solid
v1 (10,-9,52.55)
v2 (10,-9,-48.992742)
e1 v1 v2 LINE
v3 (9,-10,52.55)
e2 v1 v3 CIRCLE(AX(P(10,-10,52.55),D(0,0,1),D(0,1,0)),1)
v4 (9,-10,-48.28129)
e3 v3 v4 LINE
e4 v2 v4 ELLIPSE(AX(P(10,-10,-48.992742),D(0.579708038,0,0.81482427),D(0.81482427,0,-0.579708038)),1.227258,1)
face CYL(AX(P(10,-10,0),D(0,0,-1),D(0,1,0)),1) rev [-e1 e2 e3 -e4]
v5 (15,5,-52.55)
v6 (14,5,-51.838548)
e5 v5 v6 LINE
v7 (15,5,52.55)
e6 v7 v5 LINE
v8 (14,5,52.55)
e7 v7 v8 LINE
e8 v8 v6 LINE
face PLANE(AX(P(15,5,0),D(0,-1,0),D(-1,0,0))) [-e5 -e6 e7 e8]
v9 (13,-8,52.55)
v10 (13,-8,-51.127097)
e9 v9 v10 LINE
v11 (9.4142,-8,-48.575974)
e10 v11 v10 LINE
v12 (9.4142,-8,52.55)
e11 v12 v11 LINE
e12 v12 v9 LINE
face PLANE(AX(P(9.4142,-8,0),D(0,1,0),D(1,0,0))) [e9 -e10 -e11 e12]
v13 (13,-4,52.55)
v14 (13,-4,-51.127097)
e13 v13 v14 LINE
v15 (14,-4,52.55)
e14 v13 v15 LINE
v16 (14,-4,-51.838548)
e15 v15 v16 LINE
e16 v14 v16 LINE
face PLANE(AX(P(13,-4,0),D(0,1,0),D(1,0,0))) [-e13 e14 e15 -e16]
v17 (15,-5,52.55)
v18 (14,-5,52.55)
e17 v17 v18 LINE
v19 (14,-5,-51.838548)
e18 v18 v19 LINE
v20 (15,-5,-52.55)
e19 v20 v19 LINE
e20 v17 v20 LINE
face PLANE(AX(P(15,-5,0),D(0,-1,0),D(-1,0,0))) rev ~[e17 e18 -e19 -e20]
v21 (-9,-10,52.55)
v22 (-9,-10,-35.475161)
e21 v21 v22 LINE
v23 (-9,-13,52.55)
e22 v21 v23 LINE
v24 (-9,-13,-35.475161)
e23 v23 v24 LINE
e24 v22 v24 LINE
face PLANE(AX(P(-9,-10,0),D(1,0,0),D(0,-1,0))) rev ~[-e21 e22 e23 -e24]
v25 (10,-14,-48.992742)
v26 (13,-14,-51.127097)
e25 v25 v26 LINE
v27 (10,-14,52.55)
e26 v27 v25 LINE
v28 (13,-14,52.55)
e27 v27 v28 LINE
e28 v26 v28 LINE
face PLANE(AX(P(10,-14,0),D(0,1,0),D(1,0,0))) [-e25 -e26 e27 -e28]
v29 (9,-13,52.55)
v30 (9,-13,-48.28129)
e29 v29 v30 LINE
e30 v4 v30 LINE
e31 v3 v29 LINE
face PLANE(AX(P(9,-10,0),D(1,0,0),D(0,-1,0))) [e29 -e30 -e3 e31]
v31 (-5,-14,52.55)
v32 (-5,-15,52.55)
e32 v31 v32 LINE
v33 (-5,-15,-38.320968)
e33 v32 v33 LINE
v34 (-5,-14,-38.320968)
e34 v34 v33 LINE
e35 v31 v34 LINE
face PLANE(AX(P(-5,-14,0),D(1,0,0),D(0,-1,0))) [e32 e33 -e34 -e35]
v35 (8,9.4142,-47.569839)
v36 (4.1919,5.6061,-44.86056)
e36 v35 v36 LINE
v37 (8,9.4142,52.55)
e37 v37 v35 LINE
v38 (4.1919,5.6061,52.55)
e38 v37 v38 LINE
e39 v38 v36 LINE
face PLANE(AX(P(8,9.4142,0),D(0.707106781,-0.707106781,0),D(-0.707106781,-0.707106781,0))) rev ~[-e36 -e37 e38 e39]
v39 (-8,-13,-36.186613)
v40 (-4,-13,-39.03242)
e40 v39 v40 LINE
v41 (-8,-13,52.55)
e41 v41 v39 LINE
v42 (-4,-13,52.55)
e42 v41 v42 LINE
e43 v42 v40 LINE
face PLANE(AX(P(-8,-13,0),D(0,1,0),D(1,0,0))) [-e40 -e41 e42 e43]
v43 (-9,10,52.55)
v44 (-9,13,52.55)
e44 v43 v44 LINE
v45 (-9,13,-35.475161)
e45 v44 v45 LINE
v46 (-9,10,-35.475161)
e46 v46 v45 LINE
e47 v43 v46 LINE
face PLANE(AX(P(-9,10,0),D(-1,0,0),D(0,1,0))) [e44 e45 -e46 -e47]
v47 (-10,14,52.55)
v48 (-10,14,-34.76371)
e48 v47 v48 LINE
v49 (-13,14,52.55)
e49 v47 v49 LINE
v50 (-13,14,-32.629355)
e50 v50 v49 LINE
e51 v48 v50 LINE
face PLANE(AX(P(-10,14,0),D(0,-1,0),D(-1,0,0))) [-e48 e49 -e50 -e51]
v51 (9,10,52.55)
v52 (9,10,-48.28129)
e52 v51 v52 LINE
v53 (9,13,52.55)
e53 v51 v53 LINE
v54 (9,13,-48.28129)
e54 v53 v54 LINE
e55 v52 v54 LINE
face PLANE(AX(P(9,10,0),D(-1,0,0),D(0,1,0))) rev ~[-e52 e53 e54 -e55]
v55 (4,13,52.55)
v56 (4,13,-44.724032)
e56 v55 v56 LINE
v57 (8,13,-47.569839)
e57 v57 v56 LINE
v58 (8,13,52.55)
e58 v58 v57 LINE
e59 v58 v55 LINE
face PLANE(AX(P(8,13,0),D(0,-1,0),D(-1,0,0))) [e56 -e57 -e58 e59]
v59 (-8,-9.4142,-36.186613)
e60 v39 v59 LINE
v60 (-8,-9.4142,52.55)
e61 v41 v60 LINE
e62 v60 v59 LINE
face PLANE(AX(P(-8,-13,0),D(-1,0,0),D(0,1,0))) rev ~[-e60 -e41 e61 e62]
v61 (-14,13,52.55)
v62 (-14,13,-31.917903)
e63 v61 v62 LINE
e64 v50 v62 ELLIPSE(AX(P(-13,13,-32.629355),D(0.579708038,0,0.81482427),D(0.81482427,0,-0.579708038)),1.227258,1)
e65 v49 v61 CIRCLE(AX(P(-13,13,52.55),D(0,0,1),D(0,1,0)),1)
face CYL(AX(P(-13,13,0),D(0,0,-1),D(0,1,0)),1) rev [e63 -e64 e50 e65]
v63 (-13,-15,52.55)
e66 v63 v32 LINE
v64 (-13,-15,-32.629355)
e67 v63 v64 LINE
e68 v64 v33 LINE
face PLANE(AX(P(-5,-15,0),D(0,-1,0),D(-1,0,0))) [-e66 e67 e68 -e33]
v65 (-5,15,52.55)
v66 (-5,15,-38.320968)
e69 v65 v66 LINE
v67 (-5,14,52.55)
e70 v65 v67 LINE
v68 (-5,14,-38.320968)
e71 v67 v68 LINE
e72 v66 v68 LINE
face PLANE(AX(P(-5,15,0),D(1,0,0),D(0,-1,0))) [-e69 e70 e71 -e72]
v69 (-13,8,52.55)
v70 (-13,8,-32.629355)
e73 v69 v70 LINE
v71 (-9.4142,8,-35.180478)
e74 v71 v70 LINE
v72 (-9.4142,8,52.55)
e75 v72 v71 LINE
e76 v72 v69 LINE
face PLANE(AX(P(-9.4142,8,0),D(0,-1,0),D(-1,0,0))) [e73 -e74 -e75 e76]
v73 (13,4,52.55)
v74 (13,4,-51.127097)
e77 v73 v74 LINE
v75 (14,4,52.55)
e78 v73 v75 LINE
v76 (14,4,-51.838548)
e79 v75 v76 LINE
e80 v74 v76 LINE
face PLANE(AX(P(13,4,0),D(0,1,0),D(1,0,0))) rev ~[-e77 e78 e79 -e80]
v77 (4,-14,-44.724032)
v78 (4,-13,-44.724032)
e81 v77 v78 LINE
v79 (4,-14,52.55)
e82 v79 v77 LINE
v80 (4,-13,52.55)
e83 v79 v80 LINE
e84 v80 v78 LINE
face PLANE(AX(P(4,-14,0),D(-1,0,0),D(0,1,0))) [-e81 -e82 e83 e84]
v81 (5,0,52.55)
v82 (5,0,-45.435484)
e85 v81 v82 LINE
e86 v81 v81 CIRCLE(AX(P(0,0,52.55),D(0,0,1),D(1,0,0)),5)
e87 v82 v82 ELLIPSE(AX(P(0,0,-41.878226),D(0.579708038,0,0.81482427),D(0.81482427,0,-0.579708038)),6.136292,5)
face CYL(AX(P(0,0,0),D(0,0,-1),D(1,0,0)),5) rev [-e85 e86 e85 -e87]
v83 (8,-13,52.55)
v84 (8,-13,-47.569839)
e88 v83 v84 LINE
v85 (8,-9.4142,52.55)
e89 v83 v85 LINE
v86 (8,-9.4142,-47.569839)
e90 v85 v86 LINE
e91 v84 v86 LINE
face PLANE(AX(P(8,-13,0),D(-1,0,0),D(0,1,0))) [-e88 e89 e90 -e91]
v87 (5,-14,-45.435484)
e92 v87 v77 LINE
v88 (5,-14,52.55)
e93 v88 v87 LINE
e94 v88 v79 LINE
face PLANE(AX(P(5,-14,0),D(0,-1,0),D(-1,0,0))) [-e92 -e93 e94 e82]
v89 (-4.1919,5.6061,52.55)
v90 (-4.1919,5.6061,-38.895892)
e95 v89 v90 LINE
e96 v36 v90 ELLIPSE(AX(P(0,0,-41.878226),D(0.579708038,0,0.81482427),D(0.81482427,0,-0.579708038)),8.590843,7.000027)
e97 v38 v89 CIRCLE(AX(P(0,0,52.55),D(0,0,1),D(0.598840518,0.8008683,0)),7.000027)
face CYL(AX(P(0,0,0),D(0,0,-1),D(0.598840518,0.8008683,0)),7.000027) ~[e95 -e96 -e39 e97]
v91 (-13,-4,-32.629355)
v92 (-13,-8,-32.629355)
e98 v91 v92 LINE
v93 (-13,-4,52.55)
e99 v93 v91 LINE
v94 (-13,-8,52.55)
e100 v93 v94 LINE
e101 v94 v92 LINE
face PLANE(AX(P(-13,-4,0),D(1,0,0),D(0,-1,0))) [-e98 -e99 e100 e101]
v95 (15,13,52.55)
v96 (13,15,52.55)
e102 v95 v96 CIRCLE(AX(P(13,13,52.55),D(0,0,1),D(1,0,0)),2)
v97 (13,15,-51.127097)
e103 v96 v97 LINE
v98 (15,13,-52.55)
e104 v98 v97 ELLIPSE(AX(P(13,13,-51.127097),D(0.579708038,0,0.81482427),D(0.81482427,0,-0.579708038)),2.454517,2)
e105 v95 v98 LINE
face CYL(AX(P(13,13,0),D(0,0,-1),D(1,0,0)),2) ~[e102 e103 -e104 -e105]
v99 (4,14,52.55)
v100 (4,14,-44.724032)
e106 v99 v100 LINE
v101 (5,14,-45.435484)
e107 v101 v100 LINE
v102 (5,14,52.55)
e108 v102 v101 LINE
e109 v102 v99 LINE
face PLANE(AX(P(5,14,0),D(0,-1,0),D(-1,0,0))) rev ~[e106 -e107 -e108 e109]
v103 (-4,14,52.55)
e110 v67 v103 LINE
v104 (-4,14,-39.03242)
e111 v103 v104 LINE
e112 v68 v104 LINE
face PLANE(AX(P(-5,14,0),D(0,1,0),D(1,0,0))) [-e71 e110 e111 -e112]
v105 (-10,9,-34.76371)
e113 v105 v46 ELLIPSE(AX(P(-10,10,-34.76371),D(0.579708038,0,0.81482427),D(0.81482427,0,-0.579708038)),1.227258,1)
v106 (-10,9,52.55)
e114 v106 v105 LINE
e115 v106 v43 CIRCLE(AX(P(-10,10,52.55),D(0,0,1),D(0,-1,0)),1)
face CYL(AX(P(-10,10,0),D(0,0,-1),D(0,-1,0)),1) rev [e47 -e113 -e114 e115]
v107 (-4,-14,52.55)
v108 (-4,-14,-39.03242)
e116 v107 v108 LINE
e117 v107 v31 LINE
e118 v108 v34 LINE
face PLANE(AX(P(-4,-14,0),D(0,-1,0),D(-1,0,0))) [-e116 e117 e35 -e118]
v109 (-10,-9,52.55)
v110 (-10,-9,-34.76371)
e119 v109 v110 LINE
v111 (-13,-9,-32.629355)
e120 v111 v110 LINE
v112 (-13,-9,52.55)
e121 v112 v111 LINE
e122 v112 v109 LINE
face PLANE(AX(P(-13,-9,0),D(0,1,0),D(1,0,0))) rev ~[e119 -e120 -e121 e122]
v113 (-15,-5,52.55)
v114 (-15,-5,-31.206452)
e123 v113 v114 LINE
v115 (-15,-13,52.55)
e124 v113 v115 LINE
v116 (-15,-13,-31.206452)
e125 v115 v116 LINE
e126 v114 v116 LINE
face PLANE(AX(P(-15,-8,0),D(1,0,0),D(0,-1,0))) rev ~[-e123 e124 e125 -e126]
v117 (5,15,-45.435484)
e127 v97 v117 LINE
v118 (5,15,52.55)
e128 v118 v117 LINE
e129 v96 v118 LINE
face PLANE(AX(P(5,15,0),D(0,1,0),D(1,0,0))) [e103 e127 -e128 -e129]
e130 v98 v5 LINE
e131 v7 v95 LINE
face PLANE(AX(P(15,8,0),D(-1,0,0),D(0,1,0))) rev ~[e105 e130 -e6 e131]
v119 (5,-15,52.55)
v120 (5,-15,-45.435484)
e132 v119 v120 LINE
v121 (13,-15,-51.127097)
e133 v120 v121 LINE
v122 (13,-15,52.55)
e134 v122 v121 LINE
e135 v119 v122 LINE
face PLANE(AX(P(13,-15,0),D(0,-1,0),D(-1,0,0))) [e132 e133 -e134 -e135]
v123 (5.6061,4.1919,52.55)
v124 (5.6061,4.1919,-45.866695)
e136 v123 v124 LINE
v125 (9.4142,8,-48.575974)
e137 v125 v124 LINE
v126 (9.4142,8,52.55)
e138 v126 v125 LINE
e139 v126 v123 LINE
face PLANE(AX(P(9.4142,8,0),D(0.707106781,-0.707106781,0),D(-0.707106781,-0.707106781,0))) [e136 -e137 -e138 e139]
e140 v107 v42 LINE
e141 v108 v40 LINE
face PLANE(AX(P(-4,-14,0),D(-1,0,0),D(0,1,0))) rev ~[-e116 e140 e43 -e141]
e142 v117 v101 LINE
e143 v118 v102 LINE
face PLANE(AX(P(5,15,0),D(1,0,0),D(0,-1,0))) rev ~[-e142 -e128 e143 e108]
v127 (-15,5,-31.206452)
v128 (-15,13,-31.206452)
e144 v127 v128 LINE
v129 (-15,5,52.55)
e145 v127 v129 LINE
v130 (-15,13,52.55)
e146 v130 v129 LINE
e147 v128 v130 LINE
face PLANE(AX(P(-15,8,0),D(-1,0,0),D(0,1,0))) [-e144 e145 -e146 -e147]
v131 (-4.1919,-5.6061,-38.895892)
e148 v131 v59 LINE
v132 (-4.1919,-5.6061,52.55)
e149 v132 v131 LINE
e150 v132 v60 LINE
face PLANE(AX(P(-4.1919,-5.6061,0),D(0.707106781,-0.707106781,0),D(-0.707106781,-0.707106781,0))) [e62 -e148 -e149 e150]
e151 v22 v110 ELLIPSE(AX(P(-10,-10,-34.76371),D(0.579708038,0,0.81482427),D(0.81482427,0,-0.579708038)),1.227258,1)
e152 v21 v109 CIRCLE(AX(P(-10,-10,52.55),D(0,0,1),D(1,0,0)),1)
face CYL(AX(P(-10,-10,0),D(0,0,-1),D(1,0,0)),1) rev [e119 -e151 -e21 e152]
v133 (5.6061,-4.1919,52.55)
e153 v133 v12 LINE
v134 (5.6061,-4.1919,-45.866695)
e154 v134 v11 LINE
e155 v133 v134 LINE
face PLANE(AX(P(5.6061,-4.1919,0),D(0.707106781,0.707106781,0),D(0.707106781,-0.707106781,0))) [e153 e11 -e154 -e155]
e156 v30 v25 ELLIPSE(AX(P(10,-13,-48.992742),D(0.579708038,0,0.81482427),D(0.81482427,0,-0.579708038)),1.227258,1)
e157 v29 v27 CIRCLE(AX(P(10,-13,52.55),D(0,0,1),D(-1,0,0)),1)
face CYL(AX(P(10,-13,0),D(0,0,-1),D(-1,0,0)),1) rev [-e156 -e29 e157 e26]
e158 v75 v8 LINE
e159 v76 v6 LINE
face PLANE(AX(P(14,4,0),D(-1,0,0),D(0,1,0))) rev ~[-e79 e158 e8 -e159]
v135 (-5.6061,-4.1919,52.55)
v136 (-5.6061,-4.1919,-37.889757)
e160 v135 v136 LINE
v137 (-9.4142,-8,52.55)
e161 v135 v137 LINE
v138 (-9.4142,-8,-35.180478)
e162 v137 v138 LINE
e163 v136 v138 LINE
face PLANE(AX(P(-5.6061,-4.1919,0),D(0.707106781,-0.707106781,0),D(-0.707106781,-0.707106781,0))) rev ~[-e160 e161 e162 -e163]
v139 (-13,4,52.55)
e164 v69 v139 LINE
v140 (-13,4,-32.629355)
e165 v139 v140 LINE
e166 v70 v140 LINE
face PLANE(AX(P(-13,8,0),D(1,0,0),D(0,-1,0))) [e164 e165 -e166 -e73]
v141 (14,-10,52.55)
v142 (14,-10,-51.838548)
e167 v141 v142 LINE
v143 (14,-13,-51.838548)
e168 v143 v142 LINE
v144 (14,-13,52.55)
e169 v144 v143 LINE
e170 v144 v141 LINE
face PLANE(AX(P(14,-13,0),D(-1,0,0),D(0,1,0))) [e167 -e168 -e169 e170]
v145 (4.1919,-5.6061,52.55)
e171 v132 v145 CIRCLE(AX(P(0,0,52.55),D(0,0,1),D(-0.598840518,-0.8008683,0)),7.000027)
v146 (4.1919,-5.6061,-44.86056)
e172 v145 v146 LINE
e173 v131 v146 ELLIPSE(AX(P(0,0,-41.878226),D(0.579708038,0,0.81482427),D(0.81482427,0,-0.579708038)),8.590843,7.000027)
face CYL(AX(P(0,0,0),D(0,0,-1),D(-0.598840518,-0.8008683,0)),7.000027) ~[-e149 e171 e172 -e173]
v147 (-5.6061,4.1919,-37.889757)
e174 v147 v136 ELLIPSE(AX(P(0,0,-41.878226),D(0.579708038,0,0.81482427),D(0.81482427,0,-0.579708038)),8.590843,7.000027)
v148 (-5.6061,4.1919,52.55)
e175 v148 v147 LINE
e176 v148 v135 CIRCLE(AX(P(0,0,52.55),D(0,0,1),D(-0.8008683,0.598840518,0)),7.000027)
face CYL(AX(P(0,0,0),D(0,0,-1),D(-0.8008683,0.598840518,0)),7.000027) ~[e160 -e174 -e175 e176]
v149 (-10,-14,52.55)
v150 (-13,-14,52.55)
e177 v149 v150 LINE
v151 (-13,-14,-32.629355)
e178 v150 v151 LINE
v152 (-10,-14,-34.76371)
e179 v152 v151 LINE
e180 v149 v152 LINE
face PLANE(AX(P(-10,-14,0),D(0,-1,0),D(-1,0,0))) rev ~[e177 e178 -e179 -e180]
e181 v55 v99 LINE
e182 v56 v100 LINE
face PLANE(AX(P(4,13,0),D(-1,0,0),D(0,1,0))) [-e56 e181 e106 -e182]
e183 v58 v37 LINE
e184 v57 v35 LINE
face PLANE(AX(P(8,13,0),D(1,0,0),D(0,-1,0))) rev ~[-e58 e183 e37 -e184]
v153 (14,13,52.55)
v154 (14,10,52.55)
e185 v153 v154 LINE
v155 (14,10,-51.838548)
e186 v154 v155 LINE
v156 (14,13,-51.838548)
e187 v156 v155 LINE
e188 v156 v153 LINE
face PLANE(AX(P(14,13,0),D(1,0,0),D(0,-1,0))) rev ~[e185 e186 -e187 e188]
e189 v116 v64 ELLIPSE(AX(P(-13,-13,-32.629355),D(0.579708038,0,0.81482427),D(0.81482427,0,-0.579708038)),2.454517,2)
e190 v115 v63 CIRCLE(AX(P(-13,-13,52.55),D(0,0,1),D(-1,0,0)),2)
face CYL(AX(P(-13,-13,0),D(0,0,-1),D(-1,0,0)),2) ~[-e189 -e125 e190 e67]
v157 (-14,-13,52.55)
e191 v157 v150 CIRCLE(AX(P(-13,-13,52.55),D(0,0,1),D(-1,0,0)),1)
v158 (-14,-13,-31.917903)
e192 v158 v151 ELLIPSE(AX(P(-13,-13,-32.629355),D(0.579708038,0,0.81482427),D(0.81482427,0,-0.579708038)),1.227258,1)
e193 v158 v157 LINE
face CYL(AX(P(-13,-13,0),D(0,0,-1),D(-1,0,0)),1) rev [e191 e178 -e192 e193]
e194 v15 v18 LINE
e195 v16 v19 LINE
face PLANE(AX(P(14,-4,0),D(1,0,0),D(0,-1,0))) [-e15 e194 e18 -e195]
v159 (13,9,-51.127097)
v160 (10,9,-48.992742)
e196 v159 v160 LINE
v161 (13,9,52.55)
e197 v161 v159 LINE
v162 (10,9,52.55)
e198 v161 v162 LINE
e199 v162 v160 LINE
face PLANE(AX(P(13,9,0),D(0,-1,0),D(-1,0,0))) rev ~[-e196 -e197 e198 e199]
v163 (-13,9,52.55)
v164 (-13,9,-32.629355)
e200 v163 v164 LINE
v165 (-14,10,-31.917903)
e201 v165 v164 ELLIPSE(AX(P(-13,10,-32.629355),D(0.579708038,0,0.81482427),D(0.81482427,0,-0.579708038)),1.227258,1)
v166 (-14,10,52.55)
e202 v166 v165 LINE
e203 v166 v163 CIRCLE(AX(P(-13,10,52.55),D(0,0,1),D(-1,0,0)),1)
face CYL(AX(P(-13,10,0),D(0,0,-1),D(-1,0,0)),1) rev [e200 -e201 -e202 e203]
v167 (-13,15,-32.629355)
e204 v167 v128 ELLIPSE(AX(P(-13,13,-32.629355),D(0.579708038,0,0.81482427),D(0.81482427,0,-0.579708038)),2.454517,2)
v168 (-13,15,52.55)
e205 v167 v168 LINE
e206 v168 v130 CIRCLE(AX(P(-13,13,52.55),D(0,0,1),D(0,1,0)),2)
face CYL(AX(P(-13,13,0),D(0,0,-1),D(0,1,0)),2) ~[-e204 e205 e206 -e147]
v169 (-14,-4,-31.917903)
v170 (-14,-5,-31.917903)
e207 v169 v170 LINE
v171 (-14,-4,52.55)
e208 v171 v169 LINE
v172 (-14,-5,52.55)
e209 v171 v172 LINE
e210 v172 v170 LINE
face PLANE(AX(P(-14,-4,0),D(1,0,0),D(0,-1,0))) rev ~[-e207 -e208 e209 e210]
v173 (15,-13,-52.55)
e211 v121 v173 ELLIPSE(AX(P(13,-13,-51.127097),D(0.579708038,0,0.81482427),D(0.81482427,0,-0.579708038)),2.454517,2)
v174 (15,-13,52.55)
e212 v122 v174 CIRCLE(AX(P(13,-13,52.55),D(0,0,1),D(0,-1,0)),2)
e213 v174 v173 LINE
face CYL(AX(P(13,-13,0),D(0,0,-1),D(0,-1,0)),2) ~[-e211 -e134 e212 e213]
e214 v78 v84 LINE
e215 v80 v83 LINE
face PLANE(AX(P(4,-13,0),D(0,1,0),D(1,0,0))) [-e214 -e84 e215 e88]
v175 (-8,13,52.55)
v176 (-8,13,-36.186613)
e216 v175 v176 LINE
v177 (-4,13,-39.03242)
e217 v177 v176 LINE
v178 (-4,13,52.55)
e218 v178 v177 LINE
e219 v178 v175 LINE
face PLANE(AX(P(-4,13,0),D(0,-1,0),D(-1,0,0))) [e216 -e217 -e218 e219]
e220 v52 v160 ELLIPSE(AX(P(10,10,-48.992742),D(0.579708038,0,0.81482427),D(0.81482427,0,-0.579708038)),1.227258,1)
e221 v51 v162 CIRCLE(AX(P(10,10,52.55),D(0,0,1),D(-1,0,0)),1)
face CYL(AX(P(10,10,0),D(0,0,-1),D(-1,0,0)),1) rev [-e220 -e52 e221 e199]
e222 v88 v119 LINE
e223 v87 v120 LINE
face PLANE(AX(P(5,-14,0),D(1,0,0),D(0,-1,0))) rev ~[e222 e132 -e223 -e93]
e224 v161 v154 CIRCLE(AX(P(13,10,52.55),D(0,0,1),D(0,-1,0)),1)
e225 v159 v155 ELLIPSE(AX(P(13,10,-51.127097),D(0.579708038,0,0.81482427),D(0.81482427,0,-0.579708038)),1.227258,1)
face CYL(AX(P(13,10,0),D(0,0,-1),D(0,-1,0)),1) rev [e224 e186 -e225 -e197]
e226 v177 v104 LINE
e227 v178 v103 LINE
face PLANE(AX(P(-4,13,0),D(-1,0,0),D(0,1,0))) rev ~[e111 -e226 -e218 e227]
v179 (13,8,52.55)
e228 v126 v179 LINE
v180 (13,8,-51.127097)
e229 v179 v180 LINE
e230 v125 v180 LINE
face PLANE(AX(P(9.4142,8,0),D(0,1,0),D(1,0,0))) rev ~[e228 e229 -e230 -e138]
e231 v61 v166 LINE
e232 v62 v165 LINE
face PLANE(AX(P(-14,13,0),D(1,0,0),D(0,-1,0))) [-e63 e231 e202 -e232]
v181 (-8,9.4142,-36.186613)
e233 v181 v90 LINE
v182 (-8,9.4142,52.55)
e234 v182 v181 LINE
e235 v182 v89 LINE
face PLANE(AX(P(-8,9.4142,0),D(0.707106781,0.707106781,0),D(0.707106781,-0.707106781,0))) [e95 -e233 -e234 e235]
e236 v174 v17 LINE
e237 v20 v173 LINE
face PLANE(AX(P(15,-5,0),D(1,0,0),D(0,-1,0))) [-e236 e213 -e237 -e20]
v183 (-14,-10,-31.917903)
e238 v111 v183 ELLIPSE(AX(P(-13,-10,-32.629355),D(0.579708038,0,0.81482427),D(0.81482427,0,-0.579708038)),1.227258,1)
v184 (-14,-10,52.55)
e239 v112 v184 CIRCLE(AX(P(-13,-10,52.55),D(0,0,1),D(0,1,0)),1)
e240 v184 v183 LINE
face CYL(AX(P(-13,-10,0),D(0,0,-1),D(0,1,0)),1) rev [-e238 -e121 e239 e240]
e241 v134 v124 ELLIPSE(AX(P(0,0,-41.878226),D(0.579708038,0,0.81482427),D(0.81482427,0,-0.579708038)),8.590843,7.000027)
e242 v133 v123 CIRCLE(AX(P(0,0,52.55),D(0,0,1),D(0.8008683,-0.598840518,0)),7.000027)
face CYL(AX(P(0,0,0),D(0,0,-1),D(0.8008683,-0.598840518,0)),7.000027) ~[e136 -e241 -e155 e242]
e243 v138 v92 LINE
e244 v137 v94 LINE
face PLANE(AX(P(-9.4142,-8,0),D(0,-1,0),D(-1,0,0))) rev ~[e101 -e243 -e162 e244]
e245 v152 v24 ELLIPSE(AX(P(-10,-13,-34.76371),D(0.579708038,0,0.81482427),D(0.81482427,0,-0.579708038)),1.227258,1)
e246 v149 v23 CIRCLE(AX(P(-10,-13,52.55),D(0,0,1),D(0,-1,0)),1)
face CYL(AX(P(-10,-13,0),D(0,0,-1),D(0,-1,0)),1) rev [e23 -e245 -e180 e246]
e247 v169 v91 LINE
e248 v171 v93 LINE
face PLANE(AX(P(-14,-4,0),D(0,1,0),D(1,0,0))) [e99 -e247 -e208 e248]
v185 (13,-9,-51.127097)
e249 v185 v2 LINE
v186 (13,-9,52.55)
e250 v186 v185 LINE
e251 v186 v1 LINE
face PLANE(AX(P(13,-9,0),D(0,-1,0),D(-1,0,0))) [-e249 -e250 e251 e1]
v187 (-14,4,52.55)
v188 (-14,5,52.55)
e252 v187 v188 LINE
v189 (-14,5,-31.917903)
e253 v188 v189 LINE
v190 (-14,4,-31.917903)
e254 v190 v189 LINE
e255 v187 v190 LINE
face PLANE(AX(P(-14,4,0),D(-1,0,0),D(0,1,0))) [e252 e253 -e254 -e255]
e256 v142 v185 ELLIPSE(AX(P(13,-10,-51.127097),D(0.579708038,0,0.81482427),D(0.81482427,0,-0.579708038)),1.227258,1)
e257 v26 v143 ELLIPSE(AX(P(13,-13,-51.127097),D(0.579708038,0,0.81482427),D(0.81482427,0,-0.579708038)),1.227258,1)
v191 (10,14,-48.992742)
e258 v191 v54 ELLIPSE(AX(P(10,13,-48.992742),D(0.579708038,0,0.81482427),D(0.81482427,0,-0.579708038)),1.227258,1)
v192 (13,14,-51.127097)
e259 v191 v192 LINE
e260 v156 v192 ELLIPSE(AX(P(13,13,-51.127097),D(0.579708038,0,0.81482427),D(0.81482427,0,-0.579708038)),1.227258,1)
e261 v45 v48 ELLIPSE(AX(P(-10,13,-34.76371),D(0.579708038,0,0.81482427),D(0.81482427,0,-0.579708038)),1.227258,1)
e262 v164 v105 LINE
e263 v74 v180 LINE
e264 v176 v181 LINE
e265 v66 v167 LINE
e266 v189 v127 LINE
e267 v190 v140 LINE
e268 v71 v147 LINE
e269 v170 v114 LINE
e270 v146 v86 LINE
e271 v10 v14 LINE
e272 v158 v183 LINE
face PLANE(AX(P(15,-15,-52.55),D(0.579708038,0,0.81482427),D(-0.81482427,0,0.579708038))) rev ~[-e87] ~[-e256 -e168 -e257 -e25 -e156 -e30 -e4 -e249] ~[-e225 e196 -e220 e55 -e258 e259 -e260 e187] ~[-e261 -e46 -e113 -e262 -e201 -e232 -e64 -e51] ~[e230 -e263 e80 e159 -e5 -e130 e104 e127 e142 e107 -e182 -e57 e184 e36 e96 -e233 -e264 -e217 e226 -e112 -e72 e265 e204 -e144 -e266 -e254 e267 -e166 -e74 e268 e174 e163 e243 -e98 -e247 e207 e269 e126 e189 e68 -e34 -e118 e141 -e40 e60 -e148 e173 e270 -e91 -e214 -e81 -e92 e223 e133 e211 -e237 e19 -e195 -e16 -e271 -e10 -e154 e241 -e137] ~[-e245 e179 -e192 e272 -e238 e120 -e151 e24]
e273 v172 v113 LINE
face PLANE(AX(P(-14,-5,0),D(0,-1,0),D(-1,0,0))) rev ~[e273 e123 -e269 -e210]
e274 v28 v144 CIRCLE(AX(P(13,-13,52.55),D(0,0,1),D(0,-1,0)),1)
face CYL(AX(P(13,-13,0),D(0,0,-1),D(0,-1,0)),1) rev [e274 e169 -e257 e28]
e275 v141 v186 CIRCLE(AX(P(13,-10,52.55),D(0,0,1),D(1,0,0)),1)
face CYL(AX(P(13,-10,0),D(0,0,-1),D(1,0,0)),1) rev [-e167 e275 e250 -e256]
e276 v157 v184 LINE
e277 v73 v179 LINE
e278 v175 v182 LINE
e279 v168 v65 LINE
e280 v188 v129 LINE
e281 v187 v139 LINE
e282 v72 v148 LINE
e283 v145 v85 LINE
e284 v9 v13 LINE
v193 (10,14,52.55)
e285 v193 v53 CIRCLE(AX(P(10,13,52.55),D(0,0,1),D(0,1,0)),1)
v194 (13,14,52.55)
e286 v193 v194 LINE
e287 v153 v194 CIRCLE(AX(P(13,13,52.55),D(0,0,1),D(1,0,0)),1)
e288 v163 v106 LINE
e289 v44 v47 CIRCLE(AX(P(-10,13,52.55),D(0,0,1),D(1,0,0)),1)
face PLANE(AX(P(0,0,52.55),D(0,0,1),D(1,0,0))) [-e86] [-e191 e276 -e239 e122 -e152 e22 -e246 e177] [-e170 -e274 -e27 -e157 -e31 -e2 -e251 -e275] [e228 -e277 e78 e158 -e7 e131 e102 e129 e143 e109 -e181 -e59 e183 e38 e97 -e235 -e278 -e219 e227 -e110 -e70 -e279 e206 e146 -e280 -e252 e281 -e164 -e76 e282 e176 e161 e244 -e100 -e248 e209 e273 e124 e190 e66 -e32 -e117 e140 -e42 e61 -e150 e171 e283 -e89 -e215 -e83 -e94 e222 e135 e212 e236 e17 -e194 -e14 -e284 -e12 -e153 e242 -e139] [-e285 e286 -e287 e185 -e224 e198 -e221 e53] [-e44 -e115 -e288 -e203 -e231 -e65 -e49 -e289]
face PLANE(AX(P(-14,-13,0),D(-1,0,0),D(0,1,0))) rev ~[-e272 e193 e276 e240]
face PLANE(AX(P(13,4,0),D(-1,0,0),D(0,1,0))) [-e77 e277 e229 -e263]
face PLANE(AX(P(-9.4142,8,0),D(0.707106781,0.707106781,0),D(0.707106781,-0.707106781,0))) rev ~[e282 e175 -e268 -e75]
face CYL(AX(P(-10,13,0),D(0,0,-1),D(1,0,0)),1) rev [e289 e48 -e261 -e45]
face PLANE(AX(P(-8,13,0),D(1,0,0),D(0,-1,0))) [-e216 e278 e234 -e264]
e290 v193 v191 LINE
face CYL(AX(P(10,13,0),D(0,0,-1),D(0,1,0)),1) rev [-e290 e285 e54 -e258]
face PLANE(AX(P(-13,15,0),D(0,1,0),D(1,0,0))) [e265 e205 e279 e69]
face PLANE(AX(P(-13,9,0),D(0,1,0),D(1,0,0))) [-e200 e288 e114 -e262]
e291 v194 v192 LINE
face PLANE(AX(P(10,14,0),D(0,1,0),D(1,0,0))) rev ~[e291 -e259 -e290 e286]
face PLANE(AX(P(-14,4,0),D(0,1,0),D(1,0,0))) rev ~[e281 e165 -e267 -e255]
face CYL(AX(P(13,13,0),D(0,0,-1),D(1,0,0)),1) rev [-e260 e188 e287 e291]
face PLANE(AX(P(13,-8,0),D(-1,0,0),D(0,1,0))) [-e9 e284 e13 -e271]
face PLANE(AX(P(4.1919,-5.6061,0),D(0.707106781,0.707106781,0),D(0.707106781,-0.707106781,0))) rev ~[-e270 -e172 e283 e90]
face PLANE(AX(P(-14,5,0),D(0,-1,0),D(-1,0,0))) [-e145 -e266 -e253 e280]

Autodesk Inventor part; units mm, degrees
ref_plane "YZ Plane" through (0, 0, 0) normal (1, 0, 0) x (0, 1, 0)
ref_plane "XZ Plane" through (0, 0, 0) normal (0, 1, 0) x (-1, 0, 0)
ref_plane "XY Plane" through (0, 0, 0) normal (0, 0, 1) x (1, 0, 0)
sketch "Sketch1" plane through (0, 0, 0) normal (0, 0, 1) x (1, 0, 0)
  circle A0 centre (0, 0) radius 5
  arc A1 (-13, 15) -> (-15, 13) centre (-13, 13) ccw
  arc A2 (-15, -13) -> (-13, -15) centre (-13, -13) ccw
  arc A3 (13, -15) -> (15, -13) centre (13, -13) ccw
  arc A4 (15, 13) -> (13, 15) centre (13, 13) ccw
  arc A5 (-13, 14) -> (-14, 13) centre (-13, 13) ccw
  arc A6 (-14, -13) -> (-13, -14) centre (-13, -13) ccw
  arc A7 (13, -14) -> (14, -13) centre (13, -13) ccw
  arc A8 (14, 13) -> (13, 14) centre (13, 13) ccw
  line L0 (14, -14) -> (-14, 14) construction
  line L1 (-14, -14) -> (14, 14) construction
  line L2 (15, -15) -> (-15, 15) construction
  line L3 (-15, -15) -> (15, 15) construction
  line L4 (-13, 15) -> (-8, 15)
  line L5 (-8, 13) -> (-8, 8) construction
  line L6 (-9.4142, 8) -> (-13, 8)
  line L7 (-15, 8) -> (-15, 13)
  line L8 (-13, -15) -> (-8, -15)
  line L9 (-8, -13) -> (-8, -9.4142)
  line L10 (-9.4142, -8) -> (-13, -8)
  line L11 (-15, -8) -> (-15, -13)
  line L12 (13, -15) -> (8, -15)
  line L13 (8, -13) -> (8, -9.4142)
  line L14 (9.4142, -8) -> (13, -8)
  line L15 (15, -8) -> (15, -13)
  line L16 (13, 15) -> (8, 15)
  line L17 (8, 13) -> (8, 9.4142)
  line L18 (9.4142, 8) -> (13, 8)
  line L19 (15, 8) -> (15, 13)
  line L20 (-13, 9) -> (-10, 9)
  line L21 (-9, 10) -> (-9, 13)
  line L22 (-10, 14) -> (-13, 14)
  line L23 (-14, 13) -> (-14, 10)
  line L24 (13, 9) -> (10, 9)
  line L25 (9, 10) -> (9, 13)
  line L26 (10, 14) -> (13, 14)
  line L27 (14, 13) -> (14, 10)
  line L28 (13, -9) -> (10, -9)
  line L29 (9, -10) -> (9, -13)
  line L30 (10, -14) -> (13, -14)
  line L31 (14, -13) -> (14, -10)
  line L32 (-13, -9) -> (-10, -9)
  line L33 (-9, -10) -> (-9, -13)
  line L34 (-10, -14) -> (-13, -14)
  line L35 (-14, -13) -> (-14, -10)
  line L36 (-14, 13) -> (-14, 10)
  line L37 (-14, -10) -> (-14, -13)
  line L38 (-14, -13) -> (-14, -10)
  line L39 (-14, 10) -> (-14, 13)
  line L40 (13, -15) -> (5, -15)
  line L41 (-5, -15) -> (-13, -15)
  line L42 (13, -15) -> (5, -15) construction
  line L43 (0, -15) -> (-13, -15) construction
  line L44 (4, -13) -> (8, -13)
  line L45 (-8, -13) -> (-4, -13)
  line L46 (10, -9) -> (13, -9)
  line L47 (14, -10) -> (14, -13)
  line L48 (13, -14) -> (10, -14)
  line L49 (9, -13) -> (9, -10)
  line L50 (5, -14) -> (5, -15)
  line L51 (13, -14) -> (10, -14)
  line L52 (5, -14) -> (4, -14)
  line L53 (4, -14) -> (5, -14)
  line L54 (10, -14) -> (13, -14)
  line L55 (-4, -14) -> (-5, -14)
  line L56 (-10, -14) -> (-13, -14)
  line L57 (-13, -14) -> (-10, -14)
  line L58 (-5, -14) -> (-4, -14)
  line L59 (14, -13) -> (14, -10)
  line L60 (14, 10) -> (14, 13)
  line L61 (14, 13) -> (14, 10)
  line L62 (14, -10) -> (14, -13)
  line L63 (-5, -14) -> (-5, -15)
  line L64 (10, 14) -> (13, 14)
  line L65 (13, 14) -> (10, 14)
  line L66 (-10, 14) -> (-13, 14)
  line L67 (-13, 14) -> (-10, 14)
  line L68 (-5, 15) -> (-5, 14)
  line L69 (-13, 15) -> (-5, 15)
  line L70 (5, 15) -> (13, 15)
  line L71 (-15, 15) -> (-5, 15) construction
  line L72 (5, 15) -> (15, 15) construction
  line L73 (5, 15) -> (5, 14)
  line L74 (8, 13) -> (4, 13)
  line L75 (5, 14) -> (4, 14)
  line L76 (-5, 14) -> (-4, 14)
  line L77 (4, 14) -> (5, 14)
  line L78 (-4, 13) -> (-8, 13)
  line L79 (-4, 14) -> (-5, 14)
  line L80 (4, 13) -> (4, 14)
  line L81 (-4, 13) -> (-4, 14)
  line L82 (-4, -14) -> (-4, -13)
  line L83 (4, -14) -> (4, -13)
  line L84 (-8, 9.4142) -> (-4.1919, 5.6061)
  line L85 (8, 9.4142) -> (4.1919, 5.6061)
  line L86 (9.4142, 8) -> (5.6061, 4.1919)
  line L87 (5.6061, -4.1919) -> (9.4142, -8)
  line L88 (4.1919, -5.6061) -> (8, -9.4142)
  line L89 (-4.1919, -5.6061) -> (-8, -9.4142)
  line L90 (-5.6061, -4.1919) -> (-9.4142, -8)
  line L91 (-9.4142, 8) -> (-5.6061, 4.1919)
  arc A9 (4.1919, 5.6061) -> (-4.1919, 5.6061) centre (0, 0) ccw
  arc A10 (5.6061, -4.1919) -> (5.6061, 4.1919) centre (0, 0) ccw
  arc A11 (-5.6061, 4.1919) -> (-5.6061, -4.1919) centre (0, 0) ccw
  arc A12 (-4.1919, -5.6061) -> (4.1919, -5.6061) centre (0, 0) ccw
  line L92 (-8, 13) -> (-8, 9.4142)
  line L93 (-15, -13) -> (-15, -5) construction
  line L94 (-15, -13) -> (-15, -5)
  line L95 (-15, 5) -> (-15, 13)
  line L96 (15, -5) -> (15, -13) construction
  line L97 (15, 13) -> (15, 5)
  line L98 (15, -5) -> (15, -13)
  line L99 (-14, -4) -> (-14, -5)
  line L100 (14, -4) -> (14, -5)
  line L101 (14, 4) -> (14, 5)
  line L102 (-14, 4) -> (-14, 5)
  line L103 (-13, 8) -> (-13, 4)
  line L104 (13, 4) -> (13, 8)
  line L105 (13, -8) -> (13, -4)
  line L106 (-13, -4) -> (-13, -8)
  line L107 (-14, -5) -> (-15, -5)
  line L108 (15, -5) -> (14, -5)
  line L109 (15, 5) -> (14, 5)
  line L110 (-14, 5) -> (-15, 5)
  line L111 (13, 4) -> (14, 4)
  line L112 (-14, 4) -> (-13, 4)
  line L113 (-14, -4) -> (-13, -4)
  line L114 (13, -4) -> (14, -4)
  arc A13 (-13, -9) -> (-14, -10) centre (-13, -10) ccw
  arc A14 (-9, -10) -> (-10, -9) centre (-10, -10) ccw
  arc A15 (-10, -14) -> (-9, -13) centre (-10, -13) ccw
  arc A16 (10, -9) -> (9, -10) centre (10, -10) ccw
  arc A17 (9, -13) -> (10, -14) centre (10, -13) ccw
  arc A18 (14, -10) -> (13, -9) centre (13, -10) ccw
  arc A19 (10, 14) -> (9, 13) centre (10, 13) ccw
  arc A20 (9, 10) -> (10, 9) centre (10, 10) ccw
  arc A21 (13, 9) -> (14, 10) centre (13, 10) ccw
  arc A22 (-9, 13) -> (-10, 14) centre (-10, 13) ccw
  arc A23 (-10, 9) -> (-9, 10) centre (-10, 10) ccw
  arc A24 (-14, 10) -> (-13, 9) centre (-13, 10) ccw
  point P0 (15, -15)
  point P1 (-5.5858, -7)
  dimension "d0" = 30
  dimension "d1" = 30
  dimension "d2" = 10
  dimension "d4" = 2
  dimension "d11" = 28
  dimension "d12" = 7
  dimension "d13" = 7
  dimension "d15" = 1
  dimension "d16" = 1
  dimension "d17" = 1
  dimension "d18" = 1
  dimension "d19" = 5
  dimension "d23" = 30
  dimension "d27" = 1
  dimension "d30" = 3.5858
  dimension "d31" = 2
  dimension "d32" = 16
  dimension "d33" = 8
  dimension "d34" = 6
  dimension "d35" = 5.5858
extrude "Extrusion1" add sketch "Sketch1" along normal mid plane 105.1
sketch "Sketch3" plane through (-13, -15, 52.55) normal (0, -1, 0) x (1, 0, 0)
  line L0 (18, -105.1) -> (8, -105.1) projected
  line L1 (0, -105.1) -> (-1, -105.1) projected
  line L2 (-1, -105.1) -> (0, -105.1) projected
  line L3 (0, -105.1) -> (3, -105.1) projected
  line L4 (3, -105.1) -> (4, -105.1) projected
  line L5 (4, -105.1) -> (3, -105.1) projected
  line L6 (3, -105.1) -> (0, -105.1) projected
  line L7 (26, -105.1) -> (23, -105.1) projected
  line L8 (23, -105.1) -> (22, -105.1) projected
  line L9 (22, -105.1) -> (23, -105.1) projected
  line L10 (23, -105.1) -> (26, -105.1) projected
  line L11 (26, -105.1) -> (27, -105.1) projected
  line L12 (27, -105.1) -> (26, -105.1) projected
  line L13 (4, -105.1) -> (3, -105.1) projected
  line L14 (3, -105.1) -> (0, -105.1) projected
  line L15 (0, -105.1) -> (-1, -105.1) projected
  line L16 (-1, -105.1) -> (0, -105.1) projected
  line L17 (0, -105.1) -> (3, -105.1) projected
  line L18 (3, -105.1) -> (4, -105.1) projected
  line L19 (23, -105.1) -> (22, -105.1) projected
  line L20 (22, -105.1) -> (23, -105.1) projected
  line L21 (23, -105.1) -> (26, -105.1) projected
  line L22 (26, -105.1) -> (27, -105.1) projected
  line L23 (27, -105.1) -> (26, -105.1) projected
  line L24 (26, -105.1) -> (23, -105.1) projected
  line L25 (5, -105.1) -> (8.8081, -105.1) projected
  line L26 (8.8081, -105.1) -> (17.1919, -105.1) projected
  line L27 (17.1919, -105.1) -> (21, -105.1) projected
  line L28 (21, -105.1) -> (17, -105.1) projected
  line L29 (17, -105.1) -> (18, -105.1) projected
  line L30 (18, -105.1) -> (26, -105.1) projected
  line L31 (26, -105.1) -> (28, -105.1) projected
  line L32 (28, -105.1) -> (27, -105.1) projected
  line L33 (27, -105.1) -> (26, -105.1) projected
  line L34 (26, -105.1) -> (22.4142, -105.1) projected
  line L35 (22.4142, -105.1) -> (18.6061, -105.1) projected
  line L36 (18.6061, -105.1) -> (18.6061, -105.1) projected
  line L37 (18.6061, -105.1) -> (22.4142, -105.1) projected
  line L38 (22.4142, -105.1) -> (26, -105.1) projected
  line L39 (26, -105.1) -> (27, -105.1) projected
  line L40 (27, -105.1) -> (28, -105.1) projected
  line L41 (28, -105.1) -> (26, -105.1) projected
  line L42 (26, -105.1) -> (18, -105.1) projected
  line L43 (18, -105.1) -> (17, -105.1) projected
  line L44 (17, -105.1) -> (21, -105.1) projected
  line L45 (21, -105.1) -> (17.1919, -105.1) projected
  line L46 (17.1919, -105.1) -> (8.8081, -105.1) projected
  line L47 (8.8081, -105.1) -> (5, -105.1) projected
  line L48 (5, -105.1) -> (9, -105.1) projected
  line L49 (9, -105.1) -> (8, -105.1) projected
  line L50 (8, -105.1) -> (0, -105.1) projected
  line L51 (0, -105.1) -> (-2, -105.1) projected
  line L52 (-2, -105.1) -> (-1, -105.1) projected
  line L53 (-1, -105.1) -> (0, -105.1) projected
  line L54 (0, -105.1) -> (3.5858, -105.1) projected
  line L55 (3.5858, -105.1) -> (7.3939, -105.1) projected
  line L56 (7.3939, -105.1) -> (7.3939, -105.1) projected
  line L57 (7.3939, -105.1) -> (3.5858, -105.1) projected
  line L58 (3.5858, -105.1) -> (0, -105.1) projected
  line L59 (0, -105.1) -> (-1, -105.1) projected
  line L60 (-1, -105.1) -> (-2, -105.1) projected
  line L61 (-2, -105.1) -> (0, -105.1) projected
  line L62 (0, -105.1) -> (8, -105.1) projected
  line L63 (8, -105.1) -> (9, -105.1) projected
  line L64 (9, -105.1) -> (5, -105.1) projected
  line L65 (39.4927, -113.2765) -> (-27.442, -65.6557)
  line L66 (-27.442, -65.6557) -> (-27.442, -113.2765)
  line L67 (27, -105.1) -> (27, 0) projected
  line L68 (-27.442, -113.2765) -> (39.4927, -113.2765)
  point P0 (13, -52.55)
  dimension "d36" = 35.43
extrude "Extrusion2" cut sketch "Sketch3" against normal blind 30
equation "\"d1\" = d0"
properties part number "pole_supoort_2" material "Aluminum 6061"
